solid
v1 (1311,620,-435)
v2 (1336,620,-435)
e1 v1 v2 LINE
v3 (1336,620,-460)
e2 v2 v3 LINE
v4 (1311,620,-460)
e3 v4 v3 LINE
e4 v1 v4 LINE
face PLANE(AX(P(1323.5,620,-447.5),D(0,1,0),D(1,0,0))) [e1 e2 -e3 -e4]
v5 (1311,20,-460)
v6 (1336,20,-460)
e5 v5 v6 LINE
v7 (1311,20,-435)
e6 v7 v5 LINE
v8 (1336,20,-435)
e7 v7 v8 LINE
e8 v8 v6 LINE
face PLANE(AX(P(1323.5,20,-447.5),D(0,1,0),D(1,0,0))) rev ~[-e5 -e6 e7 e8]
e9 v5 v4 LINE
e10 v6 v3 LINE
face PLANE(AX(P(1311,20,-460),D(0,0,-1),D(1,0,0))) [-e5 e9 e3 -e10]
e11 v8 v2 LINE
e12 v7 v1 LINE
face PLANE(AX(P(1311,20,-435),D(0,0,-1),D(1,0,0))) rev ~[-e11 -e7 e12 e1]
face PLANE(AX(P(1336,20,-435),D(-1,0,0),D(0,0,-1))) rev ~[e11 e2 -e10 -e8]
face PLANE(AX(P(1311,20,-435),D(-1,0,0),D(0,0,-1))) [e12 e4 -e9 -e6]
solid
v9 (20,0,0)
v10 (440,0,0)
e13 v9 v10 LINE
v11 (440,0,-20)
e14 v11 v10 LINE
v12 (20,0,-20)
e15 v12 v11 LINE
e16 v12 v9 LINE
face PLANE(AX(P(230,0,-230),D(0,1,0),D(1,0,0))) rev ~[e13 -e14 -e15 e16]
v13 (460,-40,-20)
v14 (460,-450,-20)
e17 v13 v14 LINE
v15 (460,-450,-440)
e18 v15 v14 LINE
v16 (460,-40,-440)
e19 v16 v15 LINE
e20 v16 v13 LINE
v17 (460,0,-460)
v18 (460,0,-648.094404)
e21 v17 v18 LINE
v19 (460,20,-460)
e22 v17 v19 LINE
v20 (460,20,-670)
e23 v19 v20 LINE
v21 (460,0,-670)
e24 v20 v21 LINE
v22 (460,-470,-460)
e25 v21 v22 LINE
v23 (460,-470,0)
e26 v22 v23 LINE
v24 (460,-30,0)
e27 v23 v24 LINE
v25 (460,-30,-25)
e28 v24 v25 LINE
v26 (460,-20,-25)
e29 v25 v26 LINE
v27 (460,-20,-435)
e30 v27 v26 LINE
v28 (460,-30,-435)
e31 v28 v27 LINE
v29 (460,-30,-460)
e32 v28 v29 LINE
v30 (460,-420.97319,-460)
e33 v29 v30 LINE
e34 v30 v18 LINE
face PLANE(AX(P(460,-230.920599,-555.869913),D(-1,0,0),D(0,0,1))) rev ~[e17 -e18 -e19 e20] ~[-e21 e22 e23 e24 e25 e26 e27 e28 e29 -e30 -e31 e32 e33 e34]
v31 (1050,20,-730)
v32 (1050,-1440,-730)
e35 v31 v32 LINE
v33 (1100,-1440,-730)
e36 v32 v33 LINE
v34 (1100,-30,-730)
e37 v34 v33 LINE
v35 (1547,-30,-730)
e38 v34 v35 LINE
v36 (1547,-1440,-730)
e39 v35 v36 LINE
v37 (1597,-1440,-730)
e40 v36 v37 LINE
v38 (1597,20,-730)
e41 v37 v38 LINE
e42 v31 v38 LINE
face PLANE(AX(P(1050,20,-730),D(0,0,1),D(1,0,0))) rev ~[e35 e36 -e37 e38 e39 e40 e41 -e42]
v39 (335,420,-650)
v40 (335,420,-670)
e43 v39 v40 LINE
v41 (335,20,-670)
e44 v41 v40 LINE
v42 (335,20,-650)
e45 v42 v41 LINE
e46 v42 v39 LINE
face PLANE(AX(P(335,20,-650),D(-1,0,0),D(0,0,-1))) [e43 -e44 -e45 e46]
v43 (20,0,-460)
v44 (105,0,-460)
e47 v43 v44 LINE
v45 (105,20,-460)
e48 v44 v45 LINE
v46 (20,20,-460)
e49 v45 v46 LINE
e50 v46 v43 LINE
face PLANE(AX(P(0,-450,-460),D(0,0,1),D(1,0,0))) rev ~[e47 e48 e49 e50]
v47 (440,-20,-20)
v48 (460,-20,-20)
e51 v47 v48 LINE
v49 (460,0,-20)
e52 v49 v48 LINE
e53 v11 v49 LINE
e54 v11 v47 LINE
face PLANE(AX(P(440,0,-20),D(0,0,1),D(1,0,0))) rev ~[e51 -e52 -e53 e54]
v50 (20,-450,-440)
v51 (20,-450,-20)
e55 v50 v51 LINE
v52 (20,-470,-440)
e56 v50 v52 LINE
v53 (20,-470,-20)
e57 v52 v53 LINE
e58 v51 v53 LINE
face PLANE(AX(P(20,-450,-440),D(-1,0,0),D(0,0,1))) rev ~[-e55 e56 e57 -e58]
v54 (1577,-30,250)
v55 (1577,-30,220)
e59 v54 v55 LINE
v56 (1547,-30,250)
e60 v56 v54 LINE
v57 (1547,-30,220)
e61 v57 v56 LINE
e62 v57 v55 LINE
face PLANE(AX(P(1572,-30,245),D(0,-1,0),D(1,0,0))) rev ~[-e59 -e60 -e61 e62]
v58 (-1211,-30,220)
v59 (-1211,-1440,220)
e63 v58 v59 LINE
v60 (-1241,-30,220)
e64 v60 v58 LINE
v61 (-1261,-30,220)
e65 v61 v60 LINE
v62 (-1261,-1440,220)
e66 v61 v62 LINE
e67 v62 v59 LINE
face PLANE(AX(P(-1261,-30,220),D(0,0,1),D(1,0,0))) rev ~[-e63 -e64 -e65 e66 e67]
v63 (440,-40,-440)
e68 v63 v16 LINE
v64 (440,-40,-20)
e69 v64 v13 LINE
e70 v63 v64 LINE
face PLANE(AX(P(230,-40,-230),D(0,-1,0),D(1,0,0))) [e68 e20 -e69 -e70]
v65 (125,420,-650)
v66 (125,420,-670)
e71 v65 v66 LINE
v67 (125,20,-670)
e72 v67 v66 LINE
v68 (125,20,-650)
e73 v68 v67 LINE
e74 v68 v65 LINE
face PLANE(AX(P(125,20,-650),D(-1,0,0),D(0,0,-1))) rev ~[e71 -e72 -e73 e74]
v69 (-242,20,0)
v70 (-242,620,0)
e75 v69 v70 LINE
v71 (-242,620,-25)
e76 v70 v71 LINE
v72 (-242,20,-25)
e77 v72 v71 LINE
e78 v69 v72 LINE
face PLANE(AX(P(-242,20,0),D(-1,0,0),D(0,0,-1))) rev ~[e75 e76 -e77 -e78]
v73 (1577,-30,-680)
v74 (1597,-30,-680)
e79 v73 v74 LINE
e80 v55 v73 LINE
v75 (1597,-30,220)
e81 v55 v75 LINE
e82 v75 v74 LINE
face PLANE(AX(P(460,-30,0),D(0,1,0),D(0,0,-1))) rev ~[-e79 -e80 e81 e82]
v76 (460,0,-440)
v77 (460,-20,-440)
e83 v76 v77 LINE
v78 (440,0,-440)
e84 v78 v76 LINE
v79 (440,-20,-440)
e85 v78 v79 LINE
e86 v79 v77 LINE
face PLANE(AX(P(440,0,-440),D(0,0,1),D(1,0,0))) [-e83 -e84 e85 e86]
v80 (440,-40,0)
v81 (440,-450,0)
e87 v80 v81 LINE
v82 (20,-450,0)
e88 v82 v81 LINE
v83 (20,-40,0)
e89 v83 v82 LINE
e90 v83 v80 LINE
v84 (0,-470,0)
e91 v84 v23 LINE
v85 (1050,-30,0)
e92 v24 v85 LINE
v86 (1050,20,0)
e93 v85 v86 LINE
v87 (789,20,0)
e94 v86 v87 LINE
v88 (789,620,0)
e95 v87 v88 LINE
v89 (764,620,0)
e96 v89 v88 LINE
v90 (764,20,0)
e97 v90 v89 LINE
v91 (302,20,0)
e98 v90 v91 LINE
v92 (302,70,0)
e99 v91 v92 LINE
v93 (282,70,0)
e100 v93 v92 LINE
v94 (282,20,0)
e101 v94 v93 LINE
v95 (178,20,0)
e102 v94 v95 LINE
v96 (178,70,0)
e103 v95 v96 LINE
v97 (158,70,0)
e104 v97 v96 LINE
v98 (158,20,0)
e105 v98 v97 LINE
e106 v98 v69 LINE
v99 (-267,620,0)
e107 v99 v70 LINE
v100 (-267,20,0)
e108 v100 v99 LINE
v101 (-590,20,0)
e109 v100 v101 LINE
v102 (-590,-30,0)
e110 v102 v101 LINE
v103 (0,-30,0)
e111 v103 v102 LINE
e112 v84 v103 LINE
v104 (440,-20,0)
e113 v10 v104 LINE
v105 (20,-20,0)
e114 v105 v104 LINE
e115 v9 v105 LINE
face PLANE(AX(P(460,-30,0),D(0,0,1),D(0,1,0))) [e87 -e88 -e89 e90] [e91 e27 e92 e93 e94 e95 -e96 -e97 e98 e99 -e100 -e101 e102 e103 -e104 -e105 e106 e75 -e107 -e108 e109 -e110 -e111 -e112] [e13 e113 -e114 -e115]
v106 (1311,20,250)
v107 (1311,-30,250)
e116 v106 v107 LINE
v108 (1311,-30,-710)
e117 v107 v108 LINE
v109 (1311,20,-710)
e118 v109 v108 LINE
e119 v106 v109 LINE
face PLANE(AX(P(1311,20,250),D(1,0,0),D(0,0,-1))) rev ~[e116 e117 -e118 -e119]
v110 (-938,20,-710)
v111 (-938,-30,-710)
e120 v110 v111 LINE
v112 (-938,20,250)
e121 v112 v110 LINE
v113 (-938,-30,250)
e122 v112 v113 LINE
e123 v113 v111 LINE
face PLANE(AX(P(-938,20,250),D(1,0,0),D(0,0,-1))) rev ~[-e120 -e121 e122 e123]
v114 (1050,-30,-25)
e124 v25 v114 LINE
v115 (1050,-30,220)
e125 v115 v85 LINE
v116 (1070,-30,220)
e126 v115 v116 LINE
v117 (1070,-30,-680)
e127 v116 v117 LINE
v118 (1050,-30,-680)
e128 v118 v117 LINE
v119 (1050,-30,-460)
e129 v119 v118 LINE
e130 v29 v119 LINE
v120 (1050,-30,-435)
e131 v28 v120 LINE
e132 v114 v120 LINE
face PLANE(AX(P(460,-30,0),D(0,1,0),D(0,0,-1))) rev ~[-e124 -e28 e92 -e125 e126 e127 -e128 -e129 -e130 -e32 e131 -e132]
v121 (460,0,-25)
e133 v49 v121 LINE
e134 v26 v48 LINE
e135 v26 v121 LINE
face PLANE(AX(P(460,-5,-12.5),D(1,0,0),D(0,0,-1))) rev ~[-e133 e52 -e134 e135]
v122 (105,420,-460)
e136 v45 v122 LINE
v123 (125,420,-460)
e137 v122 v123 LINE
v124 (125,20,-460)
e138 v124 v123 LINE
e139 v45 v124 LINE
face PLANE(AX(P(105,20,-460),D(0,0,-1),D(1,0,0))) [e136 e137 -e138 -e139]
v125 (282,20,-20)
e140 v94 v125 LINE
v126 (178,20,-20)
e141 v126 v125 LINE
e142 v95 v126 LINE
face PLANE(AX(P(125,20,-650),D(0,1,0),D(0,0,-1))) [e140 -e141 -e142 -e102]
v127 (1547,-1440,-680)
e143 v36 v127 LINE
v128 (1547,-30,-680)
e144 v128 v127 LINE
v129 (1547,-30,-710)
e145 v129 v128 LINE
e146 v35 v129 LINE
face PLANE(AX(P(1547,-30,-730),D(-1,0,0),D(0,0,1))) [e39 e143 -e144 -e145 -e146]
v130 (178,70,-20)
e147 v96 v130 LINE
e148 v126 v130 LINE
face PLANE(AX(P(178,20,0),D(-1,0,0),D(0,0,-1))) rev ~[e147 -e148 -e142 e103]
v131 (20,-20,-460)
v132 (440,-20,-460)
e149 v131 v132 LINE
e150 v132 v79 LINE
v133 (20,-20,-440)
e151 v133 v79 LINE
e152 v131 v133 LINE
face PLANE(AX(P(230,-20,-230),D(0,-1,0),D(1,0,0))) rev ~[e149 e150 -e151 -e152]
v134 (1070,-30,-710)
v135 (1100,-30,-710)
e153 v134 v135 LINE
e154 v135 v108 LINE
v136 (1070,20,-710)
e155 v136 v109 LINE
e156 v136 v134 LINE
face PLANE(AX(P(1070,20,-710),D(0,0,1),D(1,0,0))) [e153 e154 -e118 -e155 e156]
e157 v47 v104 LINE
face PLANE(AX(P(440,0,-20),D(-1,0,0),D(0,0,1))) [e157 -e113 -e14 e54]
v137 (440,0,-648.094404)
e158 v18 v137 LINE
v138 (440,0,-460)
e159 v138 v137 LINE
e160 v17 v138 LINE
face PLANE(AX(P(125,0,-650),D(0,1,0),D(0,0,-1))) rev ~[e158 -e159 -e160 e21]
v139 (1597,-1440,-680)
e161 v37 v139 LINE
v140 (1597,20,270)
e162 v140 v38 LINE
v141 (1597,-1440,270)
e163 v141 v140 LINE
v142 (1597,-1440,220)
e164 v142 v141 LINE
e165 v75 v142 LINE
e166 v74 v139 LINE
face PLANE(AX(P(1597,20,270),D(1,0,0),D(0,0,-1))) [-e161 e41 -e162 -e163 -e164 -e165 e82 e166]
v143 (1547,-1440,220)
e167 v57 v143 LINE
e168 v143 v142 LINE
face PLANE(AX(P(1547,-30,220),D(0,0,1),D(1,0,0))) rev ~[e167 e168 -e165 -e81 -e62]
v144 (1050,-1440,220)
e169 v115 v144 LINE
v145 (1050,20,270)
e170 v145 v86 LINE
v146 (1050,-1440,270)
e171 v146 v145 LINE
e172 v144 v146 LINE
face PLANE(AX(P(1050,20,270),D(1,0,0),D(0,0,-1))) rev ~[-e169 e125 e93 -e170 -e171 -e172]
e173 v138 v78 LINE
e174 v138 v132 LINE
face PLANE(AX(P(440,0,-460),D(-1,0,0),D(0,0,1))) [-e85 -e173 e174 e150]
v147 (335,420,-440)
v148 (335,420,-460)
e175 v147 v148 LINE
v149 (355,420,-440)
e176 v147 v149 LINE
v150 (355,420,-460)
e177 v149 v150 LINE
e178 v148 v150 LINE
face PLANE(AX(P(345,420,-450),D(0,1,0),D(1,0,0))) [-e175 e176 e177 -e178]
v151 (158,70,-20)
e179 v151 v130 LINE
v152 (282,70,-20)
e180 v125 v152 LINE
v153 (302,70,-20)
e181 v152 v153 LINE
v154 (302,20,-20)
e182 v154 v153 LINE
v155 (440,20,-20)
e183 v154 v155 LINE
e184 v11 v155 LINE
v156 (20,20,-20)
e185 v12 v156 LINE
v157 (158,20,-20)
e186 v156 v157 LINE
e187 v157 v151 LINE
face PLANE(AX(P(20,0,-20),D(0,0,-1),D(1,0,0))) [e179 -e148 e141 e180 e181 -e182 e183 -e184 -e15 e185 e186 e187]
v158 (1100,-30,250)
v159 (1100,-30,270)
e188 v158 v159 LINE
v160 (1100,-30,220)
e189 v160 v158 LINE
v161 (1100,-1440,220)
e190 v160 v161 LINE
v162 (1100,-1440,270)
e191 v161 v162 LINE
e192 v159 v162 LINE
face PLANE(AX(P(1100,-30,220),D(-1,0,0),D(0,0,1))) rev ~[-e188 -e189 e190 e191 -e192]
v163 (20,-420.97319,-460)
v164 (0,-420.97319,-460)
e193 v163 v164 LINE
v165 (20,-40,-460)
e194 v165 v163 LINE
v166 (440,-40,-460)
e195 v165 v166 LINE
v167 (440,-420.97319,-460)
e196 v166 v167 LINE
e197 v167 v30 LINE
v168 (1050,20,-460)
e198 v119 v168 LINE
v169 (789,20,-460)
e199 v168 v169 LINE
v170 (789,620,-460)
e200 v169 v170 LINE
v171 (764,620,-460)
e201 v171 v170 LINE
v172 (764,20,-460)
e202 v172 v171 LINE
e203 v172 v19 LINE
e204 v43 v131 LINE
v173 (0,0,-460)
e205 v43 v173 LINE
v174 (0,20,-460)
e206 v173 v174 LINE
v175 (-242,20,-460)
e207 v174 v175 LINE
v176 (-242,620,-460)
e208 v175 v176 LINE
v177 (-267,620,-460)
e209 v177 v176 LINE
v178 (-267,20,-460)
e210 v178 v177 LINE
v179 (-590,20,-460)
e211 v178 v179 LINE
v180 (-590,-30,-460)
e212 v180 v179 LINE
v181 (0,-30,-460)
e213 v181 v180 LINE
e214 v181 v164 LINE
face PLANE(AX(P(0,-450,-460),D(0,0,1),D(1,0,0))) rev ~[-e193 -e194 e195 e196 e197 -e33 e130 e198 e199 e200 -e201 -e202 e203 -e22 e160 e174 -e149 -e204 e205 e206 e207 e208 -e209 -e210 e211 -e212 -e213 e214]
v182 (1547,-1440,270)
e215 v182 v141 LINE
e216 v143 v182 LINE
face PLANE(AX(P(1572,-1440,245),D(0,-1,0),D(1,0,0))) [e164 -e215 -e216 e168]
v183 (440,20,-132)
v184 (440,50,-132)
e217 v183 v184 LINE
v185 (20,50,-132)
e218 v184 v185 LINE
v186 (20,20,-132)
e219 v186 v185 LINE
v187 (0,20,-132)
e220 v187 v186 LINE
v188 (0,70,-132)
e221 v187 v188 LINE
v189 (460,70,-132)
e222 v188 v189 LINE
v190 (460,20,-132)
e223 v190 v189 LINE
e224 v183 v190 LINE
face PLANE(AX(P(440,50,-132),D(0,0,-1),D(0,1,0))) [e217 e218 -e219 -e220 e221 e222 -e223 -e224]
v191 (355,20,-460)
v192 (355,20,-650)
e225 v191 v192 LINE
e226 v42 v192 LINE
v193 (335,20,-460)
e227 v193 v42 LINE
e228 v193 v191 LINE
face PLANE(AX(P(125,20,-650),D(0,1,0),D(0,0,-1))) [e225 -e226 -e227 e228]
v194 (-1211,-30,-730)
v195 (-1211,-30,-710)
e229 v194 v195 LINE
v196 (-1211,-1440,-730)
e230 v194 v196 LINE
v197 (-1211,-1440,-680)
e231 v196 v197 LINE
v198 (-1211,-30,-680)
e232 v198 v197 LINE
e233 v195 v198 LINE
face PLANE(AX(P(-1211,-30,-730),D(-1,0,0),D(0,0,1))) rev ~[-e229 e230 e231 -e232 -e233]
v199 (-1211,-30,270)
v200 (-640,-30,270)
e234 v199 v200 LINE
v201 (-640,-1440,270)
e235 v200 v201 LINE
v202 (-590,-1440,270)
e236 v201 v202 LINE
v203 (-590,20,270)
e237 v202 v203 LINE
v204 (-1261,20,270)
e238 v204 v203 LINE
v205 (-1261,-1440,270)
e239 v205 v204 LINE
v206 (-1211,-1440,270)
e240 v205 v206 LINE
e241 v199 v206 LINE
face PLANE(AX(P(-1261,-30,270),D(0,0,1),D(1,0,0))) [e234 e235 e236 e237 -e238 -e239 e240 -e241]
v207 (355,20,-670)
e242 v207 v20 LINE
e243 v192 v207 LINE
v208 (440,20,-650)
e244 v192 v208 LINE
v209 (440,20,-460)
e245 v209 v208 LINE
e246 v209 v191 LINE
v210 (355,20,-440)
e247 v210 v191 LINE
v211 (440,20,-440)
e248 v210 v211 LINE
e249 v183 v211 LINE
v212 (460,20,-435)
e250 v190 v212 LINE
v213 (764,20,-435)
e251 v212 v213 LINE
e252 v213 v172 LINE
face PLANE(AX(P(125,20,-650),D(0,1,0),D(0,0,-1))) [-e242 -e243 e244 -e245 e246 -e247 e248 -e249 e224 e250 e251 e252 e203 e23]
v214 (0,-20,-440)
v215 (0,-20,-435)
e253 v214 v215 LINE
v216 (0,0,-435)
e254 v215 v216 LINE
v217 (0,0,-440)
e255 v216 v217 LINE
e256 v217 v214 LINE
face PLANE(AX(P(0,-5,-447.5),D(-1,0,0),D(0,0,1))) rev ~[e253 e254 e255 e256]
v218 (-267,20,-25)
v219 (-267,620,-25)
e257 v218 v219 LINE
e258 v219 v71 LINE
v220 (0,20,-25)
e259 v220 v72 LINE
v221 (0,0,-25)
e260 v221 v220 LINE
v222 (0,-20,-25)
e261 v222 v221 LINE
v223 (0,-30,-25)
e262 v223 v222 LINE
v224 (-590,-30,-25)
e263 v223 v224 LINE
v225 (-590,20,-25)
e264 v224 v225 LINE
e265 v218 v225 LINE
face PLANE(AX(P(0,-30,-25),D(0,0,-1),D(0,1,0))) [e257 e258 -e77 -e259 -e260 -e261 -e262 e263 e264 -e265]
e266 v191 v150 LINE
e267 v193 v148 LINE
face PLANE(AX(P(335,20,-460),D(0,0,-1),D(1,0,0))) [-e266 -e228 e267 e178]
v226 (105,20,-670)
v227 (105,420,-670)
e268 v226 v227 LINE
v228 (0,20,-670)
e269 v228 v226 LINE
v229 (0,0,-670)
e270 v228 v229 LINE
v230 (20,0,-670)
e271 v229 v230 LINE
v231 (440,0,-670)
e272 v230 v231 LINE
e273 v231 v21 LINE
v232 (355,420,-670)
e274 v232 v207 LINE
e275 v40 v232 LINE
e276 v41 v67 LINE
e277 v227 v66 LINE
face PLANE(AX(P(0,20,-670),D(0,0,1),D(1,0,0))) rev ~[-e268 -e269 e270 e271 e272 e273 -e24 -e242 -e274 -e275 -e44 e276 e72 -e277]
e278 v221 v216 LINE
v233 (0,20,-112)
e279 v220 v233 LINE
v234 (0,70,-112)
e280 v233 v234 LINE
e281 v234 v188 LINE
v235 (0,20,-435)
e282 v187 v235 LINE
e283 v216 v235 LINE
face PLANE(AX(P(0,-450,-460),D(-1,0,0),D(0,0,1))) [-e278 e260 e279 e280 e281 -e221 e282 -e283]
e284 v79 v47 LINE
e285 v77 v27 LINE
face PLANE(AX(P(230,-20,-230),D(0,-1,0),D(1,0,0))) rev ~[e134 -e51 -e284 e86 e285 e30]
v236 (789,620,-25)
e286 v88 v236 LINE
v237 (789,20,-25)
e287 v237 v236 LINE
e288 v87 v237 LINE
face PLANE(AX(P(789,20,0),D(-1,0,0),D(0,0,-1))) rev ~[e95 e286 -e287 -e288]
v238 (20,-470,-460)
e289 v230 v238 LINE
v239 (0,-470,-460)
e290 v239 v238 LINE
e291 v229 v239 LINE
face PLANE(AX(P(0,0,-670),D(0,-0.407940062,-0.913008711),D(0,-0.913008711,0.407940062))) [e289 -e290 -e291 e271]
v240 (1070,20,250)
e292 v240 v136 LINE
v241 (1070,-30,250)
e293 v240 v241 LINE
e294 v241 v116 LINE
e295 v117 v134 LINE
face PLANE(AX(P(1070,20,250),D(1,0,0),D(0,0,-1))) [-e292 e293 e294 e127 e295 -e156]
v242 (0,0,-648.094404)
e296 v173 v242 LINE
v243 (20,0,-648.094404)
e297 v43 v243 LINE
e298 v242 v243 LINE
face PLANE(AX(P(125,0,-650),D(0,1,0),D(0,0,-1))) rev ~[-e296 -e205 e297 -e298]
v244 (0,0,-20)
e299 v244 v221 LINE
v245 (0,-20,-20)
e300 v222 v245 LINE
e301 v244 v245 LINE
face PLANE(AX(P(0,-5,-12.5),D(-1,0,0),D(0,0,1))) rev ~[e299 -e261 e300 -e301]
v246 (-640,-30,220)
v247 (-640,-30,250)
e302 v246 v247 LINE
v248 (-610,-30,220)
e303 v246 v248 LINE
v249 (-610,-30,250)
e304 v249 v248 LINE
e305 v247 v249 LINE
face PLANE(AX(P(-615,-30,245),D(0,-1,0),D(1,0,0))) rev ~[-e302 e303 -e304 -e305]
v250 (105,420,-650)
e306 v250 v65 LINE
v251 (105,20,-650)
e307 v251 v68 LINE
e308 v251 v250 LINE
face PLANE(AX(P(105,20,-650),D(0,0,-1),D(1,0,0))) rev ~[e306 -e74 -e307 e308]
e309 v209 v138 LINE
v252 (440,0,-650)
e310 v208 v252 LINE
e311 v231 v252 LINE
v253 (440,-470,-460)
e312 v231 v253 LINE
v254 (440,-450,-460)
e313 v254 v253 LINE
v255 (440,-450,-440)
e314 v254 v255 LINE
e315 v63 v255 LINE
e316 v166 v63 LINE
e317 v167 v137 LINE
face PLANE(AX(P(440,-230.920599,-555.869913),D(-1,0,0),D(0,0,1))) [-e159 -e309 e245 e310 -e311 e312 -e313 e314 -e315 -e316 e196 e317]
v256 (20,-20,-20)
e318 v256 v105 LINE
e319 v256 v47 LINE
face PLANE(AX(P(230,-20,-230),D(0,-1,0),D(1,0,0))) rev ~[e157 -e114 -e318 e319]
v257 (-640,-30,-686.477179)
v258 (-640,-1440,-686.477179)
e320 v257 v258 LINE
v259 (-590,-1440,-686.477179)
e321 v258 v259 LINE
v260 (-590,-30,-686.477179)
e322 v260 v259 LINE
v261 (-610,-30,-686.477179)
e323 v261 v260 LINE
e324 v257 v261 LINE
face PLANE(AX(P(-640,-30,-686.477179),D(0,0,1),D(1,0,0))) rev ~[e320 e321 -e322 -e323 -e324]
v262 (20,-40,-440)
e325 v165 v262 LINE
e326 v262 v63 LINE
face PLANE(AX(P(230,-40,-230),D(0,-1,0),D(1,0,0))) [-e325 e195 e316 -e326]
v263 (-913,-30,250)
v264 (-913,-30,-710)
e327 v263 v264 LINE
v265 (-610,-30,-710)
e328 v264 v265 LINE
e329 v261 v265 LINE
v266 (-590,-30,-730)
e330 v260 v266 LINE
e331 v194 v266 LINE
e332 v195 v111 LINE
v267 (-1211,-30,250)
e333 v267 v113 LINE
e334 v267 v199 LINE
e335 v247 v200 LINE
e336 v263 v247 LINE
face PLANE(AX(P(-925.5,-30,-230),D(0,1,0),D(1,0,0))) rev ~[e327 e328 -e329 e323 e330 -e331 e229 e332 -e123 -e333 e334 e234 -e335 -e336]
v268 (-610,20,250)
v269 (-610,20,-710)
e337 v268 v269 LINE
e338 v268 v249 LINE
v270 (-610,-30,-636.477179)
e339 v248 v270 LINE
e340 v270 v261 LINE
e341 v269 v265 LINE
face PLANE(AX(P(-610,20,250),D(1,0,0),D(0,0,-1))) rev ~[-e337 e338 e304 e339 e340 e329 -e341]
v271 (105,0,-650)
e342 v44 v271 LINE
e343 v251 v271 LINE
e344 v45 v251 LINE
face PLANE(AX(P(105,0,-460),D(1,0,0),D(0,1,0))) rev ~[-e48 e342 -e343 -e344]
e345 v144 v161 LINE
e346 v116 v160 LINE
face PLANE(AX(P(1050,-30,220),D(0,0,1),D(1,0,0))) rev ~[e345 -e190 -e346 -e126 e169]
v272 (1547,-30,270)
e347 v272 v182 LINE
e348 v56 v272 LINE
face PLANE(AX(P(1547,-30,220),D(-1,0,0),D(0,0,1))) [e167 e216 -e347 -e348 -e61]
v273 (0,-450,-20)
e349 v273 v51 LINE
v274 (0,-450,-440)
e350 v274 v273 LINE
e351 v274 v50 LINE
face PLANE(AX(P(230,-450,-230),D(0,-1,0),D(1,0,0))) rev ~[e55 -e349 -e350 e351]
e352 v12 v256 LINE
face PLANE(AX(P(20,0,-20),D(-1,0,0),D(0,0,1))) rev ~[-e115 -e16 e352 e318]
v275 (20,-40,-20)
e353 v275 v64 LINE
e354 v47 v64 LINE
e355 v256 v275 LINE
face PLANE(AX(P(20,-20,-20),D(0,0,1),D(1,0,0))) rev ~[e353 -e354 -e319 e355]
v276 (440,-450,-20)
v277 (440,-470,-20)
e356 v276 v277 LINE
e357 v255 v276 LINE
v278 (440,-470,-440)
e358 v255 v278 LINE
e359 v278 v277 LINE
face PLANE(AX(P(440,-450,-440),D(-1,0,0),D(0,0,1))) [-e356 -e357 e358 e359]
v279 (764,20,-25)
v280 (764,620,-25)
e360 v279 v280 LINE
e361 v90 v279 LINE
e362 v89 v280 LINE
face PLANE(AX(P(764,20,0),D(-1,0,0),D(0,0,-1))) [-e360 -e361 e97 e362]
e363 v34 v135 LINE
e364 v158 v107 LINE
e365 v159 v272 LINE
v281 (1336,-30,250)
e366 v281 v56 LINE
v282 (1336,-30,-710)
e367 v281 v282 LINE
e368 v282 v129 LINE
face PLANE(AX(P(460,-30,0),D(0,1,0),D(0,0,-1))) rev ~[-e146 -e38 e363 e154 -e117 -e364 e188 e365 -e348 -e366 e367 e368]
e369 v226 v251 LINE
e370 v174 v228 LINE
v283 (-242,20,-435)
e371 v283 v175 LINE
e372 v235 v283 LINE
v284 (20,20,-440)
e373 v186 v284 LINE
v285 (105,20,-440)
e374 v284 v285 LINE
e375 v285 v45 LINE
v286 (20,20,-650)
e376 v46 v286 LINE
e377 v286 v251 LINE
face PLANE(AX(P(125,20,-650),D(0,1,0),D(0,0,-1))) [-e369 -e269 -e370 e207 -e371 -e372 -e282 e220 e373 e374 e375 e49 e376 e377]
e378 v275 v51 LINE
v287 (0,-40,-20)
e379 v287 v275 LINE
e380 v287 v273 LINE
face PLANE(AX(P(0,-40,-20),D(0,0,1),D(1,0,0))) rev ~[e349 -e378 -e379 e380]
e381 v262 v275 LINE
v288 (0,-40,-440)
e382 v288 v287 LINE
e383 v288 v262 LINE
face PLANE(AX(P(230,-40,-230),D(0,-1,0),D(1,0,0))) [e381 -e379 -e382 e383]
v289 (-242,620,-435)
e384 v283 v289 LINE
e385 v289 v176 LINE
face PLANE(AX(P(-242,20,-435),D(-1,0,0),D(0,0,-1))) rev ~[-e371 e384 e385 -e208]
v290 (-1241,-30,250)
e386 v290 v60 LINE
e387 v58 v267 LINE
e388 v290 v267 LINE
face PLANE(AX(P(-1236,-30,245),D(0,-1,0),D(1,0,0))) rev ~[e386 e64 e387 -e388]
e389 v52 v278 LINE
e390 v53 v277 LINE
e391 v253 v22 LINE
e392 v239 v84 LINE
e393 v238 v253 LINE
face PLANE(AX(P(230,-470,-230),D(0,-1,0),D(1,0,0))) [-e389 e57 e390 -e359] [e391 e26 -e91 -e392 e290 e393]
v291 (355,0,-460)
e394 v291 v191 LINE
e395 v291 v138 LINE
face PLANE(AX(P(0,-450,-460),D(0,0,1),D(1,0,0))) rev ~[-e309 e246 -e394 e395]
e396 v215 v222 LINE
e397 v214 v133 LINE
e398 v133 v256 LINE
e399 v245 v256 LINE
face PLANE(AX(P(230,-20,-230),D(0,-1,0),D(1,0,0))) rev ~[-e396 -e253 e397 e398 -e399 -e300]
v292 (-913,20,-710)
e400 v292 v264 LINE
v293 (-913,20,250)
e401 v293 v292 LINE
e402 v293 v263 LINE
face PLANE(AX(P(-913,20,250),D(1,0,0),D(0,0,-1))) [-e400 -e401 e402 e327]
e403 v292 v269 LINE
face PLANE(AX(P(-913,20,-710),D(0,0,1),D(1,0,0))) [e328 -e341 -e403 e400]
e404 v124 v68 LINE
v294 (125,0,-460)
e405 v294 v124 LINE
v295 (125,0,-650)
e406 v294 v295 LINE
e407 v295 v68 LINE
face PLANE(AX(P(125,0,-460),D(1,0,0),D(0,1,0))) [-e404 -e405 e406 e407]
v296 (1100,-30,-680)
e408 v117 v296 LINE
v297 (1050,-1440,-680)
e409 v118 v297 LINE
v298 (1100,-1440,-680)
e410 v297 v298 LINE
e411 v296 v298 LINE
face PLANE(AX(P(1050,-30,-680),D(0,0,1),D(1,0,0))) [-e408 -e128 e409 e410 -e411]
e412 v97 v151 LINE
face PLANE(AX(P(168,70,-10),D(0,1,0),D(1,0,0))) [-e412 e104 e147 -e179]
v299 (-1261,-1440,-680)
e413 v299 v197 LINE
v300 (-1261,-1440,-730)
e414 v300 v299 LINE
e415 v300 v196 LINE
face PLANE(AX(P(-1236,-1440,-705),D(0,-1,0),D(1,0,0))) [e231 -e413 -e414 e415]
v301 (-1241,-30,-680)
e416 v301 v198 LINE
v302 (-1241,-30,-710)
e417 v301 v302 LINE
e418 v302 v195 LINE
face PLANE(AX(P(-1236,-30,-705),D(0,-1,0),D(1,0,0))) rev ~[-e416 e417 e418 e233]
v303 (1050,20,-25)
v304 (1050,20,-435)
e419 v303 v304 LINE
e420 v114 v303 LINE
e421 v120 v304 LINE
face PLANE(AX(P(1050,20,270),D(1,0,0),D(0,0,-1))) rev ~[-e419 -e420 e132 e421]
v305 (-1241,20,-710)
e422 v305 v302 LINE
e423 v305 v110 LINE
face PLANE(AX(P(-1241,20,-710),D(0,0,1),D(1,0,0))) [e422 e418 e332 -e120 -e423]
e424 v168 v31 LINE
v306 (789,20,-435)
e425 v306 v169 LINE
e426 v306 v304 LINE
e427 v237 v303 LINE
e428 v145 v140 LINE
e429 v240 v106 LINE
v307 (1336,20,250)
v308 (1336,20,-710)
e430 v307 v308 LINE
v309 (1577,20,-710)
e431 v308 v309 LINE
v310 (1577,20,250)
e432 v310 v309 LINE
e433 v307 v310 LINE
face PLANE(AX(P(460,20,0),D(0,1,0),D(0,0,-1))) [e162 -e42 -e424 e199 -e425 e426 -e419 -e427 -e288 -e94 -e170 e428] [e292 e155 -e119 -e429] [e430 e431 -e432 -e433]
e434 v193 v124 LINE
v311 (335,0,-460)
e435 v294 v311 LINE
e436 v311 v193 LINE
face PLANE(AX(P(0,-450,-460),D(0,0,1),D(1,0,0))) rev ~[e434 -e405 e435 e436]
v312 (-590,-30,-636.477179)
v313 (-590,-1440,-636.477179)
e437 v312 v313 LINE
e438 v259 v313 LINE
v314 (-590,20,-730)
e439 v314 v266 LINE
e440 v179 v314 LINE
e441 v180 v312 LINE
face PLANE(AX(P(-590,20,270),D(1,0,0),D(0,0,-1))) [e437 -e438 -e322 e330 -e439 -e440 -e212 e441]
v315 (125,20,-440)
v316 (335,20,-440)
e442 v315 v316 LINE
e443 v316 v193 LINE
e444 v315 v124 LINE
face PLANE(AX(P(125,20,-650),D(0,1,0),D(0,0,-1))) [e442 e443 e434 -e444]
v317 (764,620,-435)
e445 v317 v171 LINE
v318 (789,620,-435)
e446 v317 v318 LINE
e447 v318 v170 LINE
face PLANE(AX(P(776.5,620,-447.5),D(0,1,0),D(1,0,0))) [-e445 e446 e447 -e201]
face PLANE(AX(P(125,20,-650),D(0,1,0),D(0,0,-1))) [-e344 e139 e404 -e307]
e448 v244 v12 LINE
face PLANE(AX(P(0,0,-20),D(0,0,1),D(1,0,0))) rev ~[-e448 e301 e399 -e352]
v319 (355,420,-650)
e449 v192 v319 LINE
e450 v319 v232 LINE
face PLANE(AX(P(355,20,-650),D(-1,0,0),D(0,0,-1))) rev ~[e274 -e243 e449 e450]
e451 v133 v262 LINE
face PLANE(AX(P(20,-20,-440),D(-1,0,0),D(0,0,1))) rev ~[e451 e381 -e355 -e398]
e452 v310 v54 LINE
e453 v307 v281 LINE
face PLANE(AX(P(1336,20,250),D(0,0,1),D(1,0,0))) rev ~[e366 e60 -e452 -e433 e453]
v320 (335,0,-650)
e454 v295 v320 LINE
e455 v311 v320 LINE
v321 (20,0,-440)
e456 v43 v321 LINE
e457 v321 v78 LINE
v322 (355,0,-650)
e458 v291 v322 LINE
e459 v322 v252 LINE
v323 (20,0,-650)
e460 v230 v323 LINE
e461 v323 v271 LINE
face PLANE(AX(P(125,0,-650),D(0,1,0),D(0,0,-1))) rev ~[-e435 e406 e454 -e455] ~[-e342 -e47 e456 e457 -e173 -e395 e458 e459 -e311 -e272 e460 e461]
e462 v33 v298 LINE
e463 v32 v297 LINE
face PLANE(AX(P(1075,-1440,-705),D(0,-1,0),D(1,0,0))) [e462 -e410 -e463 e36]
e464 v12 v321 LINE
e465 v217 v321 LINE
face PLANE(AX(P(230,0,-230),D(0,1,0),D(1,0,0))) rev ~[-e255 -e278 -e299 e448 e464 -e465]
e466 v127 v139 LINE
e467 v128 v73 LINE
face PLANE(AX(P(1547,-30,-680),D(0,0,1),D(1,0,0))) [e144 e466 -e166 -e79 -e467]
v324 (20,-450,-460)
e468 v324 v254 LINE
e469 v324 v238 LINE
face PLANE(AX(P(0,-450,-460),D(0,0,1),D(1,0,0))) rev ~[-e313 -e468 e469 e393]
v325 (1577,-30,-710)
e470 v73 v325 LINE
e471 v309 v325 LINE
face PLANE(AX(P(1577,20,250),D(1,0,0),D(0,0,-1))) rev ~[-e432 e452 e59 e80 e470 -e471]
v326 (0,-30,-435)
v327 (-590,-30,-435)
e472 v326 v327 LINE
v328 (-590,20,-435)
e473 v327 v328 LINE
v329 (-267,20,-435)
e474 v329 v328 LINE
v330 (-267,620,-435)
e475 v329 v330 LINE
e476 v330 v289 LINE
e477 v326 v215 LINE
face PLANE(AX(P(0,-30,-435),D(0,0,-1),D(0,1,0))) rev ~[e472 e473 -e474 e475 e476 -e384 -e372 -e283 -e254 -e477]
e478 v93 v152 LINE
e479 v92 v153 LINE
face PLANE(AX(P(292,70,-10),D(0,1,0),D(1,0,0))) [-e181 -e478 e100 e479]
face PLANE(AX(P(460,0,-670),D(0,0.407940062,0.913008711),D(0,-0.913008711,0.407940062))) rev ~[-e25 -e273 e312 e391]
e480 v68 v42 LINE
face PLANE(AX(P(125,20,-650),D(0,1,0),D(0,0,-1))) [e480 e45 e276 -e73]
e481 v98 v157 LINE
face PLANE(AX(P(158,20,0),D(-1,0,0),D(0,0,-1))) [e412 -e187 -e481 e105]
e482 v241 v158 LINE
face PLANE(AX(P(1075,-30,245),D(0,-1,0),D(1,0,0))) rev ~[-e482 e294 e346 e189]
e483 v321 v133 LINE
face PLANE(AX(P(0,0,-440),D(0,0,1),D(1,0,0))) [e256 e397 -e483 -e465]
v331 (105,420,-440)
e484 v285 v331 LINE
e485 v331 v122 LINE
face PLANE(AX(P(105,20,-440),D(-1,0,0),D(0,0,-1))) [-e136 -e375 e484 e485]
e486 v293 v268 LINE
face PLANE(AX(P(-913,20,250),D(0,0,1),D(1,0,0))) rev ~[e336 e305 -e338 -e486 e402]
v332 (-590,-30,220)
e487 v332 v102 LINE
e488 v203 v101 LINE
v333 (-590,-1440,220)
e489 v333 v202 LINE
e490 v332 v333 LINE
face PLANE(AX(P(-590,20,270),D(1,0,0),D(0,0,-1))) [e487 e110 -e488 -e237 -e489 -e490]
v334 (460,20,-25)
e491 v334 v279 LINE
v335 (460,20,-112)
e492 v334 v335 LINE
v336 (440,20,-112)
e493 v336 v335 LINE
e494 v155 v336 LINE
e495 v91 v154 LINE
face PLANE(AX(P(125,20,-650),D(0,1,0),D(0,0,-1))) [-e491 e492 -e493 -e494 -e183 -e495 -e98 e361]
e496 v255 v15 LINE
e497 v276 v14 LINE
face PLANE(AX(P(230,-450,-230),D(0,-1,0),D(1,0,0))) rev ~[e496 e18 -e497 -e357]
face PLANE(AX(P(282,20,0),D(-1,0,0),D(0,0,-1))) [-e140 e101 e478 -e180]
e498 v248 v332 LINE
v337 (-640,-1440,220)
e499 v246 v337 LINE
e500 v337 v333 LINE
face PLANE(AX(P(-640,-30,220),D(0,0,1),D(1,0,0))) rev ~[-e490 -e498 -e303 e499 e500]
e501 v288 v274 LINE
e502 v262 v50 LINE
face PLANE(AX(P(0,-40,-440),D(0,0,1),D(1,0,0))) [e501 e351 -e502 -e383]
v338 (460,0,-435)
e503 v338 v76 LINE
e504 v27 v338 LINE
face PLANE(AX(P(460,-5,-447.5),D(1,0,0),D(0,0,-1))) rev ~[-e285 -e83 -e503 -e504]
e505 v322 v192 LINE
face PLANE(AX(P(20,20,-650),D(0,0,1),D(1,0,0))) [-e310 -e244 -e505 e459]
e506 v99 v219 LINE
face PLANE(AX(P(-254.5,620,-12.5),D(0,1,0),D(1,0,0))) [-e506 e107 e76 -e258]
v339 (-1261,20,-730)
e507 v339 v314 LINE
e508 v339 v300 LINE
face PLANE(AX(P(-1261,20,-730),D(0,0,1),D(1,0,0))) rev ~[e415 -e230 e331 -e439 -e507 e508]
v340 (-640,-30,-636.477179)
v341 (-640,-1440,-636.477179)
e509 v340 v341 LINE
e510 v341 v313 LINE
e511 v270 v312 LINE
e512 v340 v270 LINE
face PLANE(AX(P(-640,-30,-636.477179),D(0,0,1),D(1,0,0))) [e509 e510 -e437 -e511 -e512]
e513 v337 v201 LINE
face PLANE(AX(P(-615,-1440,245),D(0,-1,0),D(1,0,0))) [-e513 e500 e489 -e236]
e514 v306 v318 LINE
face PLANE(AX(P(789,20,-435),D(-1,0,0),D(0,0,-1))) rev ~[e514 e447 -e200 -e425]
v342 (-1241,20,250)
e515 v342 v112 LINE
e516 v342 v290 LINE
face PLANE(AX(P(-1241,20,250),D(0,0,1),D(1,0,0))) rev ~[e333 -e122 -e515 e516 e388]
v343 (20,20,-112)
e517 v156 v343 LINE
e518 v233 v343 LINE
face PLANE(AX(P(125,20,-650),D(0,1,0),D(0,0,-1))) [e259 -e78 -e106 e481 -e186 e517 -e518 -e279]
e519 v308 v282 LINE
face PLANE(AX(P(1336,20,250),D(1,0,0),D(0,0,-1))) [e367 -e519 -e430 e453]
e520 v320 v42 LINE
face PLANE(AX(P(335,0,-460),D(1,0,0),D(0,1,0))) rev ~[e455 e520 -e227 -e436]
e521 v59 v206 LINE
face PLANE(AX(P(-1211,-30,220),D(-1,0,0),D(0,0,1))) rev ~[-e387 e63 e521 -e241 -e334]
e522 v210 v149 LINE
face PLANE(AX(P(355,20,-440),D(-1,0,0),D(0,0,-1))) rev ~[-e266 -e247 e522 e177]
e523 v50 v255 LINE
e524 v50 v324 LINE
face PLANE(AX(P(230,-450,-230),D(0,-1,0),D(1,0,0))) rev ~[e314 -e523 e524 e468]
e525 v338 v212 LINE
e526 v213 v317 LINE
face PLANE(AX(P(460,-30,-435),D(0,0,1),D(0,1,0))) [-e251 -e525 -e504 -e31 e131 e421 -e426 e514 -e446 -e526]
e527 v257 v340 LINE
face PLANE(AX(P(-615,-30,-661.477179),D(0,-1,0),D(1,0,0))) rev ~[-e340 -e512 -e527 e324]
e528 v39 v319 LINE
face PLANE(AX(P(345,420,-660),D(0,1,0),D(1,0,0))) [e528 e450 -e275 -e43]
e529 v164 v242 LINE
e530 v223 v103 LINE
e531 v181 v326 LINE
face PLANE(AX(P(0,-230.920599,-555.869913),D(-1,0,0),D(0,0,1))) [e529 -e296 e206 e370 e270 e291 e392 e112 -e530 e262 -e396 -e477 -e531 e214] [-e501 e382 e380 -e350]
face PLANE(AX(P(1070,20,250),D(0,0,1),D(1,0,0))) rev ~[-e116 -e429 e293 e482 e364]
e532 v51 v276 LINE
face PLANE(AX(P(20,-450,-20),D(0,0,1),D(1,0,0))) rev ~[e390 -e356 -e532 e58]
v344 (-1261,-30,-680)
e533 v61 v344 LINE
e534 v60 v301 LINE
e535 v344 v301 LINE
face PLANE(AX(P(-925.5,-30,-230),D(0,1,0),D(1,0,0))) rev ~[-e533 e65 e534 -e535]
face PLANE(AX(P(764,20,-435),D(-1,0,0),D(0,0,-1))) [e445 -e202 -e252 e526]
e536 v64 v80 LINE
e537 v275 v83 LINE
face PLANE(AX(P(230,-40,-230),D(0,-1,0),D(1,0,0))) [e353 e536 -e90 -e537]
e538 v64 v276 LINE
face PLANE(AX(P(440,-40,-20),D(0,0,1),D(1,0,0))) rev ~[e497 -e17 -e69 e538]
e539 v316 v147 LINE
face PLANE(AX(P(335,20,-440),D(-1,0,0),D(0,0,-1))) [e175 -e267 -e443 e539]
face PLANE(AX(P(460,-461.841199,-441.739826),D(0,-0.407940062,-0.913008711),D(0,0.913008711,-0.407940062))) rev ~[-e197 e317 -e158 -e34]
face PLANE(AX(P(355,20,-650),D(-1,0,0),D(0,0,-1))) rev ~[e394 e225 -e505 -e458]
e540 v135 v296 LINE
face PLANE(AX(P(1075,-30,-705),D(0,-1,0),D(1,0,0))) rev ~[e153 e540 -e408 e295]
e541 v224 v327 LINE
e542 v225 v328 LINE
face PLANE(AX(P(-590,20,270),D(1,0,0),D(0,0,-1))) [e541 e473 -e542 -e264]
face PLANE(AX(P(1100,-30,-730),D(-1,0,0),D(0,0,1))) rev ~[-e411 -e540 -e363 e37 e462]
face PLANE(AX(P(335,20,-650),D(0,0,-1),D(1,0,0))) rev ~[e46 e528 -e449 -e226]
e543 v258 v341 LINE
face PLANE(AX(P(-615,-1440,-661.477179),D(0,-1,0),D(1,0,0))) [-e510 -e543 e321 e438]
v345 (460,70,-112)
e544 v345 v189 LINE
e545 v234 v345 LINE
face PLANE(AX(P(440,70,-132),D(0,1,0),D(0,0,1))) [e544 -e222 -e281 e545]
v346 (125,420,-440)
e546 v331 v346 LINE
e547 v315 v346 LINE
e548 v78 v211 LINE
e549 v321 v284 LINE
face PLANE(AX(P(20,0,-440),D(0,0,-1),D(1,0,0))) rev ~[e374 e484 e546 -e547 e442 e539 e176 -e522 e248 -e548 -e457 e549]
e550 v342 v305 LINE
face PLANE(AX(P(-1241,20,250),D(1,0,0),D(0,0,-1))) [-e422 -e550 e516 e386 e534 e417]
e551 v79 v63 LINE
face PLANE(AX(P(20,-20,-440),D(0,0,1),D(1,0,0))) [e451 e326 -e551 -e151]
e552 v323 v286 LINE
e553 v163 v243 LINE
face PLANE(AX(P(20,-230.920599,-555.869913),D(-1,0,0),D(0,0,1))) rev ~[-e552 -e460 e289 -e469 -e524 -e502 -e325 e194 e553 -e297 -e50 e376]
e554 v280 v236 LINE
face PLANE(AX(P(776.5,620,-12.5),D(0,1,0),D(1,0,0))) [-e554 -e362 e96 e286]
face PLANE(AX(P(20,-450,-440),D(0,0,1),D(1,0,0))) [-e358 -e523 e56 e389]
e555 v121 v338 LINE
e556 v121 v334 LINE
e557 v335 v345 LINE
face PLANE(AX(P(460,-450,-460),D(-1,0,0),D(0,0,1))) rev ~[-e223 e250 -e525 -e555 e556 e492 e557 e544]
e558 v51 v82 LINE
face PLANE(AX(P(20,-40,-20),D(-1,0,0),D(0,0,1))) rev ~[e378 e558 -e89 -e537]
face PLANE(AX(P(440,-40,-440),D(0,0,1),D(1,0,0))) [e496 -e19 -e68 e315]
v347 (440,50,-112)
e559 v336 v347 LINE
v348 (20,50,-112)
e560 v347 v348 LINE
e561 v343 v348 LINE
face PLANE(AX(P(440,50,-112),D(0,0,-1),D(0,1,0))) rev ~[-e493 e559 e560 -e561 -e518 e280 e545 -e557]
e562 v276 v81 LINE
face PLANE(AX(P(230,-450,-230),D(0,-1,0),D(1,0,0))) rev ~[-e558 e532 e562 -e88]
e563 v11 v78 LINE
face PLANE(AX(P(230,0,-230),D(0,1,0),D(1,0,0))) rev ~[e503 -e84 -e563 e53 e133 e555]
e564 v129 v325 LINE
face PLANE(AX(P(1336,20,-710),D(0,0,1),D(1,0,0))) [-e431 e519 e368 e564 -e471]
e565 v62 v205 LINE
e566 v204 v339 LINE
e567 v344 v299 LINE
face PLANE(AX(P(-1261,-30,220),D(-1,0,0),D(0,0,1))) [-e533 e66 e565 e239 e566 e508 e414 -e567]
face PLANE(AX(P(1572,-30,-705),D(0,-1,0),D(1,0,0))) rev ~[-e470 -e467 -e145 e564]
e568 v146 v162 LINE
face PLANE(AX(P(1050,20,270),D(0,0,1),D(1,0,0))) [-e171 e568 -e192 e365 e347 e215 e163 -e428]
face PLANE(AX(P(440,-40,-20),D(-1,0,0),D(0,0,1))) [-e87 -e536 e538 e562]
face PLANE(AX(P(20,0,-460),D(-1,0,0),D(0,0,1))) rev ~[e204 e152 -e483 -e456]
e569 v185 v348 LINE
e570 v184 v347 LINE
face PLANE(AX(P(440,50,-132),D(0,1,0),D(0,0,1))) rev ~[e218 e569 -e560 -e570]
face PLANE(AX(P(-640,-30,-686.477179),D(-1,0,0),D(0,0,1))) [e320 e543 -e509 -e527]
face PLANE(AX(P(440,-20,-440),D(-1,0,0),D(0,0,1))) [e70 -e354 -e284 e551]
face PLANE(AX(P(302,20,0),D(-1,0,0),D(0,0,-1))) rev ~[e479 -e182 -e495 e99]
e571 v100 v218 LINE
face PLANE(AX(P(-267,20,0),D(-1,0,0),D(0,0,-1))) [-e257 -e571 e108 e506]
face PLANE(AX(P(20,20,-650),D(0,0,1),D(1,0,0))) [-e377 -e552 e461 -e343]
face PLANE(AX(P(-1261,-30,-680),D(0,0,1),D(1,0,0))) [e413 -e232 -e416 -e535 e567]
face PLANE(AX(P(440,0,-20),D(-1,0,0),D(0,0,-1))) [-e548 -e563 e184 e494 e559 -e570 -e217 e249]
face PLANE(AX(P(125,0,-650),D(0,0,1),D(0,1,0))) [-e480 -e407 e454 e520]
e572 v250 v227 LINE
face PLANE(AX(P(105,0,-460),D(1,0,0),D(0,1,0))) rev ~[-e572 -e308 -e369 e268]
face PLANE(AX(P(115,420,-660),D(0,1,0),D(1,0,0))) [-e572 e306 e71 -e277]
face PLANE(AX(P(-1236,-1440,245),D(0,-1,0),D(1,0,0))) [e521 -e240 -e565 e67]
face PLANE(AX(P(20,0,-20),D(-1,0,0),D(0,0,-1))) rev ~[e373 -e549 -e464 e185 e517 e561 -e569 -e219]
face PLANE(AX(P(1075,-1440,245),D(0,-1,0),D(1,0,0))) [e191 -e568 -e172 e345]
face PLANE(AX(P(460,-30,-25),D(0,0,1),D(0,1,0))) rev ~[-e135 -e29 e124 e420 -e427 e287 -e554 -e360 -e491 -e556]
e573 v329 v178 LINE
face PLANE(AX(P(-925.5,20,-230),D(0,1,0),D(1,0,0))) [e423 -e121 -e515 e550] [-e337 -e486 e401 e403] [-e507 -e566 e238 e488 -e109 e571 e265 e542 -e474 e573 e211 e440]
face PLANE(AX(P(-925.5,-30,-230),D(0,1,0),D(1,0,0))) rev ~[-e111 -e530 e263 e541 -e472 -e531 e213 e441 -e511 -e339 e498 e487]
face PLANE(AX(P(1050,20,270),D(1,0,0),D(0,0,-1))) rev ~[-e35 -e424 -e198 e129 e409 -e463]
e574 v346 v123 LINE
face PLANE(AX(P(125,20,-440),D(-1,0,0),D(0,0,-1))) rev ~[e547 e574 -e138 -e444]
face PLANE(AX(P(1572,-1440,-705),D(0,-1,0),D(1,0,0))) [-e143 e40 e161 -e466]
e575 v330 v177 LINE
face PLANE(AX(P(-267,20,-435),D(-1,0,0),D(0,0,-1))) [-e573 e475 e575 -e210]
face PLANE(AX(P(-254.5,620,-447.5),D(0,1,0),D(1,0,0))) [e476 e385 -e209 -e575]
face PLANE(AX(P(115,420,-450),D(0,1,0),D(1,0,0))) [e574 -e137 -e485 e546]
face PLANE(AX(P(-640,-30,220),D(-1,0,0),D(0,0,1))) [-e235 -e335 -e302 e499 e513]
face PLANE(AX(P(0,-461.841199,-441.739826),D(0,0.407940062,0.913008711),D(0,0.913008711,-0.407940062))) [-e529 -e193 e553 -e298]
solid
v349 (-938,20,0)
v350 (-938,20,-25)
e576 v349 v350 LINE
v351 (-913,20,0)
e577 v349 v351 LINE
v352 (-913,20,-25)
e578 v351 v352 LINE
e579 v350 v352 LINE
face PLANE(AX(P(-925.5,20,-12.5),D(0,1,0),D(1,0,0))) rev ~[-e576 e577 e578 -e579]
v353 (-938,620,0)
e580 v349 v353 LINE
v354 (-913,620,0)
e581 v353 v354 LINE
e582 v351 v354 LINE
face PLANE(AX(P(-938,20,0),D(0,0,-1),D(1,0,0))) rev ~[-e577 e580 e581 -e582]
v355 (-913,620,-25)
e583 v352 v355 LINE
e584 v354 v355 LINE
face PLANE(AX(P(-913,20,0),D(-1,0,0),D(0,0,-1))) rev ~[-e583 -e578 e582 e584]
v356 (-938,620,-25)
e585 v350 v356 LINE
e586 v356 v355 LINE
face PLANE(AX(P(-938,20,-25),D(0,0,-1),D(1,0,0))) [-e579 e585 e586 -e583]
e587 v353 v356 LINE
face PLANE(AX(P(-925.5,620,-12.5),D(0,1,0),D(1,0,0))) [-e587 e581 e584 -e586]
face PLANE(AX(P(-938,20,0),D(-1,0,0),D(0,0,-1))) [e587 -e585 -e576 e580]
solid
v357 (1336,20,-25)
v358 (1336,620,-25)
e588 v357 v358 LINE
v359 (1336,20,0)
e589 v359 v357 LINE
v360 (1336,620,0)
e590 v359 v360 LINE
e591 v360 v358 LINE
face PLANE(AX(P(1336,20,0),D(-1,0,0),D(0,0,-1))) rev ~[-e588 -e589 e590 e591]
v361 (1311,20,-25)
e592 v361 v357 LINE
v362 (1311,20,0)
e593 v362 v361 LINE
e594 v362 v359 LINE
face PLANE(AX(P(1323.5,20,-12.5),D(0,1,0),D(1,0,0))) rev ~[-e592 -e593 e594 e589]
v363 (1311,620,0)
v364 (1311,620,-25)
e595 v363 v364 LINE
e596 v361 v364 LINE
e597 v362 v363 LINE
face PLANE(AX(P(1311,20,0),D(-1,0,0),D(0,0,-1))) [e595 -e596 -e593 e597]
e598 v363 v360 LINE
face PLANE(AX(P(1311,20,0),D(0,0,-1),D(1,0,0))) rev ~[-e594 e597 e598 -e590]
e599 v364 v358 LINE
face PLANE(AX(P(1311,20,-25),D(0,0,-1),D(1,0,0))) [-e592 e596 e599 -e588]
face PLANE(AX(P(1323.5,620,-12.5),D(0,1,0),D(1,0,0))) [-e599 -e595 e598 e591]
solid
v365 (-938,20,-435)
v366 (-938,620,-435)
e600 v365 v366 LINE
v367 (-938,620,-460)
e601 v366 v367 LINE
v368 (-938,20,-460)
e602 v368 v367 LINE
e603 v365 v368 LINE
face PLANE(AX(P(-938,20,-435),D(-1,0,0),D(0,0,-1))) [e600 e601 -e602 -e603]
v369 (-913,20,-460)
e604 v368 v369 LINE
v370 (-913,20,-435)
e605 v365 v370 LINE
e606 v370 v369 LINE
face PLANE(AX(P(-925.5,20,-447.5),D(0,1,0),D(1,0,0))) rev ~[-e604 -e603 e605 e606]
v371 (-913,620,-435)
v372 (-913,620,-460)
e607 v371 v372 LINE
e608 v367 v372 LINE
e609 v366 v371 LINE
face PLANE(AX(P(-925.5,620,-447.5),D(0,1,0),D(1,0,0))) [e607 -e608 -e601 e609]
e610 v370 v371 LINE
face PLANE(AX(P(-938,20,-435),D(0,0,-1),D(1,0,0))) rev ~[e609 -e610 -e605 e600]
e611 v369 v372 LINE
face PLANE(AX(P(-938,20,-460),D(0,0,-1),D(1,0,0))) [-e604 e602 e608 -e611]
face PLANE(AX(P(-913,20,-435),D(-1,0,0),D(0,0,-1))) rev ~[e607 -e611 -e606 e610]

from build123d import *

# Parameters (mm, degrees)
CROQUIS1_W               = 460
CROQUIS1_H               = 460
CROQUIS1_W_2             = 420
CROQUIS1_H_2             = 420
SALIENTE_EXTRUIR1_DEPTH  = 20
CROQUIS2_W               = 20
CROQUIS2_H               = 20
SALIENTE_EXTRUIR2_DEPTH  = 20
CROQUIS3_W               = 460
CROQUIS3_H               = 460
CROQUIS3_W_2             = 420
CROQUIS3_H_2             = 420
SALIENTE_EXTRUIR3_DEPTH  = 20
CROQUIS4_W               = 20
CROQUIS4_H               = 20
SALIENTE_EXTRUIR4_DEPTH  = 410
CROQUIS5_W               = 460
CROQUIS5_H               = 460
CROQUIS5_W_2             = 420
CROQUIS5_H_2             = 420
SALIENTE_EXTRUIR5_DEPTH  = 20
CROQUIS7_W               = 25
CROQUIS7_H               = 50
SALIENTE_EXTRUIR7_DEPTH  = 590
CROQUIS8_W               = 25
CROQUIS8_H               = 50
SALIENTE_EXTRUIR8_DEPTH  = 590
CROQUIS9_W               = 25
CROQUIS9_H               = 25
SALIENTE_EXTRUIR9_DEPTH  = 600
CROQUIS10_W              = 671
CROQUIS10_H              = 1000
CROQUIS10_W_2            = 303
CROQUIS10_H_2            = 960
CROQUIS10_W_3            = 547
CROQUIS10_W_4            = 241
SALIENTE_EXTRUIR10_DEPTH = 50
CROQUIS11_W              = 50
CROQUIS11_H              = 50
SALIENTE_EXTRUIR11_DEPTH = 1410
CROQUIS13_W              = 20
CROQUIS13_H              = 20
SALIENTE_EXTRUIR12_DEPTH = 210
CROQUIS14_W              = 20
CROQUIS14_H              = 20
SALIENTE_EXTRUIR13_DEPTH = 210
CROQUIS15_W              = 20
CROQUIS15_H              = 20
SALIENTE_EXTRUIR14_DEPTH = 50
CROQUIS16_W              = 20
CROQUIS16_H              = 20
SALIENTE_EXTRUIR15_DEPTH = 400
CROQUIS17_W              = 460
CROQUIS17_H              = 230
CROQUIS17_W_2            = 420
CROQUIS17_H_2            = 190
SALIENTE_EXTRUIR16_DEPTH = 20
SALIENTE_EXTRUIR17_DEPTH = 20
SALIENTE_EXTRUIR18_DEPTH = 20
CROQUIS23_W              = 20
CROQUIS23_H              = 20
SALIENTE_EXTRUIR22_DEPTH = 50
CROQUIS24_W              = 20
CROQUIS24_H              = 20
SALIENTE_EXTRUIR23_DEPTH = 420


with BuildPart() as part:
    # Croquis1 → Saliente-Extruir1 (new body)
    with BuildSketch(Plane(origin=(0, 0, 0), x_dir=(1, 0, 0), z_dir=(0, 1, 0))):
        with Locations((230, 230)):
            Rectangle(CROQUIS1_W, CROQUIS1_H)
        with Locations((230, 230)):
            Rectangle(CROQUIS1_W_2, CROQUIS1_H_2, mode=Mode.SUBTRACT)
    extrude(amount=SALIENTE_EXTRUIR1_DEPTH)

    # Croquis2 → Saliente-Extruir2 (add)
    with BuildSketch(Plane.XZ):
        with Locations((10, -10)):
            Rectangle(CROQUIS2_W, CROQUIS2_H)
        with Locations((10, -450)):
            Rectangle(CROQUIS2_W, CROQUIS2_H)
        with Locations((450, -450)):
            Rectangle(CROQUIS2_W, CROQUIS2_H)
        with Locations((450, -10)):
            Rectangle(CROQUIS2_W, CROQUIS2_H)
    extrude(amount=SALIENTE_EXTRUIR2_DEPTH)

    # Croquis3 → Saliente-Extruir3 (add)
    with BuildSketch(Plane.XZ.offset(20)):
        with Locations((230, -230)):
            Rectangle(CROQUIS3_W, CROQUIS3_H)
        with Locations((230, -230)):
            Rectangle(CROQUIS3_W_2, CROQUIS3_H_2, mode=Mode.SUBTRACT)
    extrude(amount=SALIENTE_EXTRUIR3_DEPTH)

    # Croquis4 → Saliente-Extruir4 (add)
    with BuildSketch(Plane.XZ.offset(40)):
        with Locations((10, -10)):
            Rectangle(CROQUIS4_W, CROQUIS4_H)
        with Locations((10, -450)):
            Rectangle(CROQUIS4_W, CROQUIS4_H)
        with Locations((450, -450)):
            Rectangle(CROQUIS4_W, CROQUIS4_H)
        with Locations((450, -10)):
            Rectangle(CROQUIS4_W, CROQUIS4_H)
    extrude(amount=SALIENTE_EXTRUIR4_DEPTH)

    # Croquis5 → Saliente-Extruir5 (add)
    with BuildSketch(Plane.XZ.offset(450)):
        with Locations((230, -230)):
            Rectangle(CROQUIS5_W, CROQUIS5_H)
        with Locations((230, -230)):
            Rectangle(CROQUIS5_W_2, CROQUIS5_H_2, mode=Mode.SUBTRACT)
    extrude(amount=SALIENTE_EXTRUIR5_DEPTH)

    # Croquis7 → Saliente-Extruir7 (add)
    with BuildSketch(Plane.ZY):
        with Locations((-12.5, -5)):
            Rectangle(CROQUIS7_W, CROQUIS7_H)
        with Locations((-447.5, -5)):
            Rectangle(CROQUIS7_W, CROQUIS7_H)
    extrude(amount=SALIENTE_EXTRUIR7_DEPTH)

    # Croquis8 → Saliente-Extruir8 (add)
    with BuildSketch(Plane(origin=(460, 0, 0), x_dir=(0, 0, -1), z_dir=(1, 0, 0))):
        with Locations((12.5, -5)):
            Rectangle(CROQUIS8_W, CROQUIS8_H)
        with Locations((447.5, -5)):
            Rectangle(CROQUIS8_W, CROQUIS8_H)
    extrude(amount=SALIENTE_EXTRUIR8_DEPTH)

    # Croquis9 → Saliente-Extruir9 (add)
    with BuildSketch(Plane(origin=(0, 20, 0), x_dir=(1, 0, 0), z_dir=(0, 1, 0))):
        with Locations((-254.5, 447.5)):
            Rectangle(CROQUIS9_W, CROQUIS9_H)
        with Locations((-254.5, 12.5)):
            Rectangle(CROQUIS9_W, CROQUIS9_H)
        with Locations((776.5, 447.5)):
            Rectangle(CROQUIS9_W, CROQUIS9_H)
        with Locations((776.5, 12.5)):
            Rectangle(CROQUIS9_W, CROQUIS9_H)
        with Locations((-925.5, 12.5)):
            Rectangle(CROQUIS9_W, CROQUIS9_H)
        with Locations((-925.5, 447.5)):
            Rectangle(CROQUIS9_W, CROQUIS9_H)
        with Locations((1323.5, 12.5)):
            Rectangle(CROQUIS9_W, CROQUIS9_H)
        with Locations((1323.5, 447.5)):
            Rectangle(CROQUIS9_W, CROQUIS9_H)
    extrude(amount=SALIENTE_EXTRUIR9_DEPTH)


with BuildPart() as saliente_extruir9_piece_1:
    # of the separate pieces the step leaves, piece 1, a body of its own (saliente_extruir9_pieces)
    add(part.part.solids().sort_by_distance((0, -30, 0))[0])

    # Croquis10 → Saliente-Extruir10 (add)
    # profile 1 of 2: a face of its own
    with BuildSketch(Plane(origin=(0, 20, 0), x_dir=(1, 0, 0), z_dir=(0, 1, 0))):
        with Locations((-925.5, 230)):
            Rectangle(CROQUIS10_W, CROQUIS10_H)
        with Locations((-761.5, 230)):
            Rectangle(CROQUIS10_W_2, CROQUIS10_H_2, mode=Mode.SUBTRACT)
        with Locations((-1089.5, 230)):
            Rectangle(CROQUIS10_W_2, CROQUIS10_H_2, mode=Mode.SUBTRACT)
    # profile 2 of 2: a face of its own
    with BuildSketch(Plane(origin=(0, 20, 0), x_dir=(1, 0, 0), z_dir=(0, 1, 0))):
        with Locations((1323.5, 230)):
            Rectangle(CROQUIS10_W_3, CROQUIS10_H)
        with Locations((1190.5, 230)):
            Rectangle(CROQUIS10_W_4, CROQUIS10_H_2, mode=Mode.SUBTRACT)
        with Locations((1456.5, 230)):
            Rectangle(CROQUIS10_W_4, CROQUIS10_H_2, mode=Mode.SUBTRACT)
    extrude(amount=-SALIENTE_EXTRUIR10_DEPTH)

    # Croquis11 → Saliente-Extruir11 (add)
    with BuildSketch(Plane.XZ.offset(30)):
        with Locations((-1236, 245)):
            Rectangle(CROQUIS11_W, CROQUIS11_H)
        with Locations((-615, 245)):
            Rectangle(CROQUIS11_W, CROQUIS11_H)
        with Locations((-615, -661.477179098)):
            Rectangle(CROQUIS11_W, CROQUIS11_H)
        with Locations((-1236, -705)):
            Rectangle(CROQUIS11_W, CROQUIS11_H)
        with Locations((1075, -705)):
            Rectangle(CROQUIS11_W, CROQUIS11_H)
        with Locations((1572, -705)):
            Rectangle(CROQUIS11_W, CROQUIS11_H)
        with Locations((1572, 245)):
            Rectangle(CROQUIS11_W, CROQUIS11_H)
        with Locations((1075, 245)):
            Rectangle(CROQUIS11_W, CROQUIS11_H)
    extrude(amount=SALIENTE_EXTRUIR11_DEPTH)

    # Croquis13 → Saliente-Extruir12 (add)
    with BuildSketch(Plane(origin=(0, 0, -460), x_dir=(-1, 0, 0), z_dir=(0, 0, -1))):
        with Locations((-345, 10)):
            Rectangle(CROQUIS13_W, CROQUIS13_H)
        with Locations((-115, 10)):
            Rectangle(CROQUIS13_W, CROQUIS13_H)
    extrude(amount=SALIENTE_EXTRUIR12_DEPTH)

    # Croquis14 → Saliente-Extruir13 (add)
    with BuildSketch(Plane(origin=(125, 0, 0), x_dir=(0, 0, -1), z_dir=(1, 0, 0))):
        with Locations((660, 10)):
            Rectangle(CROQUIS14_W, CROQUIS14_H)
    extrude(amount=SALIENTE_EXTRUIR13_DEPTH)

    # Croquis15 → Saliente-Extruir14 (add)
    with BuildSketch(Plane(origin=(0, 20, 0), x_dir=(1, 0, 0), z_dir=(0, 1, 0))):
        with Locations((292, 10)):
            Rectangle(CROQUIS15_W, CROQUIS15_H)
        with Locations((168, 10)):
            Rectangle(CROQUIS15_W, CROQUIS15_H)
    extrude(amount=SALIENTE_EXTRUIR14_DEPTH)

    # Croquis16 → Saliente-Extruir15 (add)
    with BuildSketch(Plane(origin=(0, 20, 0), x_dir=(1, 0, 0), z_dir=(0, 1, 0))):
        with Locations((345, 660)):
            Rectangle(CROQUIS16_W, CROQUIS16_H)
        with Locations((115, 660)):
            Rectangle(CROQUIS16_W, CROQUIS16_H)
        with Locations((345, 450)):
            Rectangle(CROQUIS16_W, CROQUIS16_H)
        with Locations((115, 450)):
            Rectangle(CROQUIS16_W, CROQUIS16_H)
    extrude(amount=SALIENTE_EXTRUIR15_DEPTH)

    # Croquis17 → Saliente-Extruir16 (add)
    with BuildSketch(Plane(origin=(0, 20, 0), x_dir=(1, 0, 0), z_dir=(0, 1, 0))):
        with Locations((230, 555)):
            Rectangle(CROQUIS17_W, CROQUIS17_H)
        with Locations((230, 555)):
            Rectangle(CROQUIS17_W_2, CROQUIS17_H_2, mode=Mode.SUBTRACT)
    extrude(amount=-SALIENTE_EXTRUIR16_DEPTH)

    # Croquis18 → Saliente-Extruir17 (add)
    with BuildSketch(Plane.ZY):
        Polygon((-670, 0), (-460, -470), (-441.739825788, -461.841198756), (-651.739825788, 8.158801244), align=None)
    extrude(amount=-SALIENTE_EXTRUIR17_DEPTH)

    # Croquis19 → Saliente-Extruir18 (add)
    with BuildSketch(Plane(origin=(460, 0, 0), x_dir=(0, 0, -1), z_dir=(1, 0, 0))):
        Polygon((670, 0), (460, -470), (441.739825788, -461.841198756), (651.739825788, 8.158801244), align=None)
    extrude(amount=-SALIENTE_EXTRUIR18_DEPTH)

    # Croquis23 → Saliente-Extruir22 (add)
    with BuildSketch(Plane(origin=(0, 20, 0), x_dir=(1, 0, 0), z_dir=(0, 1, 0))):
        with Locations((10, 122)):
            Rectangle(CROQUIS23_W, CROQUIS23_H)
        with Locations((450, 122)):
            Rectangle(CROQUIS23_W, CROQUIS23_H)
    extrude(amount=SALIENTE_EXTRUIR22_DEPTH)

    # Croquis24 → Saliente-Extruir23 (add)
    with BuildSketch(Plane.ZY.offset(-440)):
        with Locations((-122, 60)):
            Rectangle(CROQUIS24_W, CROQUIS24_H)
    extrude(amount=SALIENTE_EXTRUIR23_DEPTH)


with BuildPart() as saliente_extruir9_piece_2:
    # of the separate pieces the step leaves, piece 2, a body of its own (saliente_extruir9_pieces)
    add(part.part.solids().sort_by_distance((1311, 20, -460))[0])


with BuildPart() as saliente_extruir9_piece_3:
    # of the separate pieces the step leaves, piece 3, a body of its own (saliente_extruir9_pieces)
    add(part.part.solids().sort_by_distance((-913, 20, 0))[0])


with BuildPart() as saliente_extruir9_piece_4:
    # of the separate pieces the step leaves, piece 4, a body of its own (saliente_extruir9_pieces)
    add(part.part.solids().sort_by_distance((1311, 20, -25))[0])


with BuildPart() as saliente_extruir9_piece_5:
    # of the separate pieces the step leaves, piece 5, a body of its own (saliente_extruir9_pieces)
    add(part.part.solids().sort_by_distance((-938, 20, -460))[0])


solid = Compound([saliente_extruir9_piece_1.part, saliente_extruir9_piece_2.part, saliente_extruir9_piece_3.part, saliente_extruir9_piece_4.part, saliente_extruir9_piece_5.part])
